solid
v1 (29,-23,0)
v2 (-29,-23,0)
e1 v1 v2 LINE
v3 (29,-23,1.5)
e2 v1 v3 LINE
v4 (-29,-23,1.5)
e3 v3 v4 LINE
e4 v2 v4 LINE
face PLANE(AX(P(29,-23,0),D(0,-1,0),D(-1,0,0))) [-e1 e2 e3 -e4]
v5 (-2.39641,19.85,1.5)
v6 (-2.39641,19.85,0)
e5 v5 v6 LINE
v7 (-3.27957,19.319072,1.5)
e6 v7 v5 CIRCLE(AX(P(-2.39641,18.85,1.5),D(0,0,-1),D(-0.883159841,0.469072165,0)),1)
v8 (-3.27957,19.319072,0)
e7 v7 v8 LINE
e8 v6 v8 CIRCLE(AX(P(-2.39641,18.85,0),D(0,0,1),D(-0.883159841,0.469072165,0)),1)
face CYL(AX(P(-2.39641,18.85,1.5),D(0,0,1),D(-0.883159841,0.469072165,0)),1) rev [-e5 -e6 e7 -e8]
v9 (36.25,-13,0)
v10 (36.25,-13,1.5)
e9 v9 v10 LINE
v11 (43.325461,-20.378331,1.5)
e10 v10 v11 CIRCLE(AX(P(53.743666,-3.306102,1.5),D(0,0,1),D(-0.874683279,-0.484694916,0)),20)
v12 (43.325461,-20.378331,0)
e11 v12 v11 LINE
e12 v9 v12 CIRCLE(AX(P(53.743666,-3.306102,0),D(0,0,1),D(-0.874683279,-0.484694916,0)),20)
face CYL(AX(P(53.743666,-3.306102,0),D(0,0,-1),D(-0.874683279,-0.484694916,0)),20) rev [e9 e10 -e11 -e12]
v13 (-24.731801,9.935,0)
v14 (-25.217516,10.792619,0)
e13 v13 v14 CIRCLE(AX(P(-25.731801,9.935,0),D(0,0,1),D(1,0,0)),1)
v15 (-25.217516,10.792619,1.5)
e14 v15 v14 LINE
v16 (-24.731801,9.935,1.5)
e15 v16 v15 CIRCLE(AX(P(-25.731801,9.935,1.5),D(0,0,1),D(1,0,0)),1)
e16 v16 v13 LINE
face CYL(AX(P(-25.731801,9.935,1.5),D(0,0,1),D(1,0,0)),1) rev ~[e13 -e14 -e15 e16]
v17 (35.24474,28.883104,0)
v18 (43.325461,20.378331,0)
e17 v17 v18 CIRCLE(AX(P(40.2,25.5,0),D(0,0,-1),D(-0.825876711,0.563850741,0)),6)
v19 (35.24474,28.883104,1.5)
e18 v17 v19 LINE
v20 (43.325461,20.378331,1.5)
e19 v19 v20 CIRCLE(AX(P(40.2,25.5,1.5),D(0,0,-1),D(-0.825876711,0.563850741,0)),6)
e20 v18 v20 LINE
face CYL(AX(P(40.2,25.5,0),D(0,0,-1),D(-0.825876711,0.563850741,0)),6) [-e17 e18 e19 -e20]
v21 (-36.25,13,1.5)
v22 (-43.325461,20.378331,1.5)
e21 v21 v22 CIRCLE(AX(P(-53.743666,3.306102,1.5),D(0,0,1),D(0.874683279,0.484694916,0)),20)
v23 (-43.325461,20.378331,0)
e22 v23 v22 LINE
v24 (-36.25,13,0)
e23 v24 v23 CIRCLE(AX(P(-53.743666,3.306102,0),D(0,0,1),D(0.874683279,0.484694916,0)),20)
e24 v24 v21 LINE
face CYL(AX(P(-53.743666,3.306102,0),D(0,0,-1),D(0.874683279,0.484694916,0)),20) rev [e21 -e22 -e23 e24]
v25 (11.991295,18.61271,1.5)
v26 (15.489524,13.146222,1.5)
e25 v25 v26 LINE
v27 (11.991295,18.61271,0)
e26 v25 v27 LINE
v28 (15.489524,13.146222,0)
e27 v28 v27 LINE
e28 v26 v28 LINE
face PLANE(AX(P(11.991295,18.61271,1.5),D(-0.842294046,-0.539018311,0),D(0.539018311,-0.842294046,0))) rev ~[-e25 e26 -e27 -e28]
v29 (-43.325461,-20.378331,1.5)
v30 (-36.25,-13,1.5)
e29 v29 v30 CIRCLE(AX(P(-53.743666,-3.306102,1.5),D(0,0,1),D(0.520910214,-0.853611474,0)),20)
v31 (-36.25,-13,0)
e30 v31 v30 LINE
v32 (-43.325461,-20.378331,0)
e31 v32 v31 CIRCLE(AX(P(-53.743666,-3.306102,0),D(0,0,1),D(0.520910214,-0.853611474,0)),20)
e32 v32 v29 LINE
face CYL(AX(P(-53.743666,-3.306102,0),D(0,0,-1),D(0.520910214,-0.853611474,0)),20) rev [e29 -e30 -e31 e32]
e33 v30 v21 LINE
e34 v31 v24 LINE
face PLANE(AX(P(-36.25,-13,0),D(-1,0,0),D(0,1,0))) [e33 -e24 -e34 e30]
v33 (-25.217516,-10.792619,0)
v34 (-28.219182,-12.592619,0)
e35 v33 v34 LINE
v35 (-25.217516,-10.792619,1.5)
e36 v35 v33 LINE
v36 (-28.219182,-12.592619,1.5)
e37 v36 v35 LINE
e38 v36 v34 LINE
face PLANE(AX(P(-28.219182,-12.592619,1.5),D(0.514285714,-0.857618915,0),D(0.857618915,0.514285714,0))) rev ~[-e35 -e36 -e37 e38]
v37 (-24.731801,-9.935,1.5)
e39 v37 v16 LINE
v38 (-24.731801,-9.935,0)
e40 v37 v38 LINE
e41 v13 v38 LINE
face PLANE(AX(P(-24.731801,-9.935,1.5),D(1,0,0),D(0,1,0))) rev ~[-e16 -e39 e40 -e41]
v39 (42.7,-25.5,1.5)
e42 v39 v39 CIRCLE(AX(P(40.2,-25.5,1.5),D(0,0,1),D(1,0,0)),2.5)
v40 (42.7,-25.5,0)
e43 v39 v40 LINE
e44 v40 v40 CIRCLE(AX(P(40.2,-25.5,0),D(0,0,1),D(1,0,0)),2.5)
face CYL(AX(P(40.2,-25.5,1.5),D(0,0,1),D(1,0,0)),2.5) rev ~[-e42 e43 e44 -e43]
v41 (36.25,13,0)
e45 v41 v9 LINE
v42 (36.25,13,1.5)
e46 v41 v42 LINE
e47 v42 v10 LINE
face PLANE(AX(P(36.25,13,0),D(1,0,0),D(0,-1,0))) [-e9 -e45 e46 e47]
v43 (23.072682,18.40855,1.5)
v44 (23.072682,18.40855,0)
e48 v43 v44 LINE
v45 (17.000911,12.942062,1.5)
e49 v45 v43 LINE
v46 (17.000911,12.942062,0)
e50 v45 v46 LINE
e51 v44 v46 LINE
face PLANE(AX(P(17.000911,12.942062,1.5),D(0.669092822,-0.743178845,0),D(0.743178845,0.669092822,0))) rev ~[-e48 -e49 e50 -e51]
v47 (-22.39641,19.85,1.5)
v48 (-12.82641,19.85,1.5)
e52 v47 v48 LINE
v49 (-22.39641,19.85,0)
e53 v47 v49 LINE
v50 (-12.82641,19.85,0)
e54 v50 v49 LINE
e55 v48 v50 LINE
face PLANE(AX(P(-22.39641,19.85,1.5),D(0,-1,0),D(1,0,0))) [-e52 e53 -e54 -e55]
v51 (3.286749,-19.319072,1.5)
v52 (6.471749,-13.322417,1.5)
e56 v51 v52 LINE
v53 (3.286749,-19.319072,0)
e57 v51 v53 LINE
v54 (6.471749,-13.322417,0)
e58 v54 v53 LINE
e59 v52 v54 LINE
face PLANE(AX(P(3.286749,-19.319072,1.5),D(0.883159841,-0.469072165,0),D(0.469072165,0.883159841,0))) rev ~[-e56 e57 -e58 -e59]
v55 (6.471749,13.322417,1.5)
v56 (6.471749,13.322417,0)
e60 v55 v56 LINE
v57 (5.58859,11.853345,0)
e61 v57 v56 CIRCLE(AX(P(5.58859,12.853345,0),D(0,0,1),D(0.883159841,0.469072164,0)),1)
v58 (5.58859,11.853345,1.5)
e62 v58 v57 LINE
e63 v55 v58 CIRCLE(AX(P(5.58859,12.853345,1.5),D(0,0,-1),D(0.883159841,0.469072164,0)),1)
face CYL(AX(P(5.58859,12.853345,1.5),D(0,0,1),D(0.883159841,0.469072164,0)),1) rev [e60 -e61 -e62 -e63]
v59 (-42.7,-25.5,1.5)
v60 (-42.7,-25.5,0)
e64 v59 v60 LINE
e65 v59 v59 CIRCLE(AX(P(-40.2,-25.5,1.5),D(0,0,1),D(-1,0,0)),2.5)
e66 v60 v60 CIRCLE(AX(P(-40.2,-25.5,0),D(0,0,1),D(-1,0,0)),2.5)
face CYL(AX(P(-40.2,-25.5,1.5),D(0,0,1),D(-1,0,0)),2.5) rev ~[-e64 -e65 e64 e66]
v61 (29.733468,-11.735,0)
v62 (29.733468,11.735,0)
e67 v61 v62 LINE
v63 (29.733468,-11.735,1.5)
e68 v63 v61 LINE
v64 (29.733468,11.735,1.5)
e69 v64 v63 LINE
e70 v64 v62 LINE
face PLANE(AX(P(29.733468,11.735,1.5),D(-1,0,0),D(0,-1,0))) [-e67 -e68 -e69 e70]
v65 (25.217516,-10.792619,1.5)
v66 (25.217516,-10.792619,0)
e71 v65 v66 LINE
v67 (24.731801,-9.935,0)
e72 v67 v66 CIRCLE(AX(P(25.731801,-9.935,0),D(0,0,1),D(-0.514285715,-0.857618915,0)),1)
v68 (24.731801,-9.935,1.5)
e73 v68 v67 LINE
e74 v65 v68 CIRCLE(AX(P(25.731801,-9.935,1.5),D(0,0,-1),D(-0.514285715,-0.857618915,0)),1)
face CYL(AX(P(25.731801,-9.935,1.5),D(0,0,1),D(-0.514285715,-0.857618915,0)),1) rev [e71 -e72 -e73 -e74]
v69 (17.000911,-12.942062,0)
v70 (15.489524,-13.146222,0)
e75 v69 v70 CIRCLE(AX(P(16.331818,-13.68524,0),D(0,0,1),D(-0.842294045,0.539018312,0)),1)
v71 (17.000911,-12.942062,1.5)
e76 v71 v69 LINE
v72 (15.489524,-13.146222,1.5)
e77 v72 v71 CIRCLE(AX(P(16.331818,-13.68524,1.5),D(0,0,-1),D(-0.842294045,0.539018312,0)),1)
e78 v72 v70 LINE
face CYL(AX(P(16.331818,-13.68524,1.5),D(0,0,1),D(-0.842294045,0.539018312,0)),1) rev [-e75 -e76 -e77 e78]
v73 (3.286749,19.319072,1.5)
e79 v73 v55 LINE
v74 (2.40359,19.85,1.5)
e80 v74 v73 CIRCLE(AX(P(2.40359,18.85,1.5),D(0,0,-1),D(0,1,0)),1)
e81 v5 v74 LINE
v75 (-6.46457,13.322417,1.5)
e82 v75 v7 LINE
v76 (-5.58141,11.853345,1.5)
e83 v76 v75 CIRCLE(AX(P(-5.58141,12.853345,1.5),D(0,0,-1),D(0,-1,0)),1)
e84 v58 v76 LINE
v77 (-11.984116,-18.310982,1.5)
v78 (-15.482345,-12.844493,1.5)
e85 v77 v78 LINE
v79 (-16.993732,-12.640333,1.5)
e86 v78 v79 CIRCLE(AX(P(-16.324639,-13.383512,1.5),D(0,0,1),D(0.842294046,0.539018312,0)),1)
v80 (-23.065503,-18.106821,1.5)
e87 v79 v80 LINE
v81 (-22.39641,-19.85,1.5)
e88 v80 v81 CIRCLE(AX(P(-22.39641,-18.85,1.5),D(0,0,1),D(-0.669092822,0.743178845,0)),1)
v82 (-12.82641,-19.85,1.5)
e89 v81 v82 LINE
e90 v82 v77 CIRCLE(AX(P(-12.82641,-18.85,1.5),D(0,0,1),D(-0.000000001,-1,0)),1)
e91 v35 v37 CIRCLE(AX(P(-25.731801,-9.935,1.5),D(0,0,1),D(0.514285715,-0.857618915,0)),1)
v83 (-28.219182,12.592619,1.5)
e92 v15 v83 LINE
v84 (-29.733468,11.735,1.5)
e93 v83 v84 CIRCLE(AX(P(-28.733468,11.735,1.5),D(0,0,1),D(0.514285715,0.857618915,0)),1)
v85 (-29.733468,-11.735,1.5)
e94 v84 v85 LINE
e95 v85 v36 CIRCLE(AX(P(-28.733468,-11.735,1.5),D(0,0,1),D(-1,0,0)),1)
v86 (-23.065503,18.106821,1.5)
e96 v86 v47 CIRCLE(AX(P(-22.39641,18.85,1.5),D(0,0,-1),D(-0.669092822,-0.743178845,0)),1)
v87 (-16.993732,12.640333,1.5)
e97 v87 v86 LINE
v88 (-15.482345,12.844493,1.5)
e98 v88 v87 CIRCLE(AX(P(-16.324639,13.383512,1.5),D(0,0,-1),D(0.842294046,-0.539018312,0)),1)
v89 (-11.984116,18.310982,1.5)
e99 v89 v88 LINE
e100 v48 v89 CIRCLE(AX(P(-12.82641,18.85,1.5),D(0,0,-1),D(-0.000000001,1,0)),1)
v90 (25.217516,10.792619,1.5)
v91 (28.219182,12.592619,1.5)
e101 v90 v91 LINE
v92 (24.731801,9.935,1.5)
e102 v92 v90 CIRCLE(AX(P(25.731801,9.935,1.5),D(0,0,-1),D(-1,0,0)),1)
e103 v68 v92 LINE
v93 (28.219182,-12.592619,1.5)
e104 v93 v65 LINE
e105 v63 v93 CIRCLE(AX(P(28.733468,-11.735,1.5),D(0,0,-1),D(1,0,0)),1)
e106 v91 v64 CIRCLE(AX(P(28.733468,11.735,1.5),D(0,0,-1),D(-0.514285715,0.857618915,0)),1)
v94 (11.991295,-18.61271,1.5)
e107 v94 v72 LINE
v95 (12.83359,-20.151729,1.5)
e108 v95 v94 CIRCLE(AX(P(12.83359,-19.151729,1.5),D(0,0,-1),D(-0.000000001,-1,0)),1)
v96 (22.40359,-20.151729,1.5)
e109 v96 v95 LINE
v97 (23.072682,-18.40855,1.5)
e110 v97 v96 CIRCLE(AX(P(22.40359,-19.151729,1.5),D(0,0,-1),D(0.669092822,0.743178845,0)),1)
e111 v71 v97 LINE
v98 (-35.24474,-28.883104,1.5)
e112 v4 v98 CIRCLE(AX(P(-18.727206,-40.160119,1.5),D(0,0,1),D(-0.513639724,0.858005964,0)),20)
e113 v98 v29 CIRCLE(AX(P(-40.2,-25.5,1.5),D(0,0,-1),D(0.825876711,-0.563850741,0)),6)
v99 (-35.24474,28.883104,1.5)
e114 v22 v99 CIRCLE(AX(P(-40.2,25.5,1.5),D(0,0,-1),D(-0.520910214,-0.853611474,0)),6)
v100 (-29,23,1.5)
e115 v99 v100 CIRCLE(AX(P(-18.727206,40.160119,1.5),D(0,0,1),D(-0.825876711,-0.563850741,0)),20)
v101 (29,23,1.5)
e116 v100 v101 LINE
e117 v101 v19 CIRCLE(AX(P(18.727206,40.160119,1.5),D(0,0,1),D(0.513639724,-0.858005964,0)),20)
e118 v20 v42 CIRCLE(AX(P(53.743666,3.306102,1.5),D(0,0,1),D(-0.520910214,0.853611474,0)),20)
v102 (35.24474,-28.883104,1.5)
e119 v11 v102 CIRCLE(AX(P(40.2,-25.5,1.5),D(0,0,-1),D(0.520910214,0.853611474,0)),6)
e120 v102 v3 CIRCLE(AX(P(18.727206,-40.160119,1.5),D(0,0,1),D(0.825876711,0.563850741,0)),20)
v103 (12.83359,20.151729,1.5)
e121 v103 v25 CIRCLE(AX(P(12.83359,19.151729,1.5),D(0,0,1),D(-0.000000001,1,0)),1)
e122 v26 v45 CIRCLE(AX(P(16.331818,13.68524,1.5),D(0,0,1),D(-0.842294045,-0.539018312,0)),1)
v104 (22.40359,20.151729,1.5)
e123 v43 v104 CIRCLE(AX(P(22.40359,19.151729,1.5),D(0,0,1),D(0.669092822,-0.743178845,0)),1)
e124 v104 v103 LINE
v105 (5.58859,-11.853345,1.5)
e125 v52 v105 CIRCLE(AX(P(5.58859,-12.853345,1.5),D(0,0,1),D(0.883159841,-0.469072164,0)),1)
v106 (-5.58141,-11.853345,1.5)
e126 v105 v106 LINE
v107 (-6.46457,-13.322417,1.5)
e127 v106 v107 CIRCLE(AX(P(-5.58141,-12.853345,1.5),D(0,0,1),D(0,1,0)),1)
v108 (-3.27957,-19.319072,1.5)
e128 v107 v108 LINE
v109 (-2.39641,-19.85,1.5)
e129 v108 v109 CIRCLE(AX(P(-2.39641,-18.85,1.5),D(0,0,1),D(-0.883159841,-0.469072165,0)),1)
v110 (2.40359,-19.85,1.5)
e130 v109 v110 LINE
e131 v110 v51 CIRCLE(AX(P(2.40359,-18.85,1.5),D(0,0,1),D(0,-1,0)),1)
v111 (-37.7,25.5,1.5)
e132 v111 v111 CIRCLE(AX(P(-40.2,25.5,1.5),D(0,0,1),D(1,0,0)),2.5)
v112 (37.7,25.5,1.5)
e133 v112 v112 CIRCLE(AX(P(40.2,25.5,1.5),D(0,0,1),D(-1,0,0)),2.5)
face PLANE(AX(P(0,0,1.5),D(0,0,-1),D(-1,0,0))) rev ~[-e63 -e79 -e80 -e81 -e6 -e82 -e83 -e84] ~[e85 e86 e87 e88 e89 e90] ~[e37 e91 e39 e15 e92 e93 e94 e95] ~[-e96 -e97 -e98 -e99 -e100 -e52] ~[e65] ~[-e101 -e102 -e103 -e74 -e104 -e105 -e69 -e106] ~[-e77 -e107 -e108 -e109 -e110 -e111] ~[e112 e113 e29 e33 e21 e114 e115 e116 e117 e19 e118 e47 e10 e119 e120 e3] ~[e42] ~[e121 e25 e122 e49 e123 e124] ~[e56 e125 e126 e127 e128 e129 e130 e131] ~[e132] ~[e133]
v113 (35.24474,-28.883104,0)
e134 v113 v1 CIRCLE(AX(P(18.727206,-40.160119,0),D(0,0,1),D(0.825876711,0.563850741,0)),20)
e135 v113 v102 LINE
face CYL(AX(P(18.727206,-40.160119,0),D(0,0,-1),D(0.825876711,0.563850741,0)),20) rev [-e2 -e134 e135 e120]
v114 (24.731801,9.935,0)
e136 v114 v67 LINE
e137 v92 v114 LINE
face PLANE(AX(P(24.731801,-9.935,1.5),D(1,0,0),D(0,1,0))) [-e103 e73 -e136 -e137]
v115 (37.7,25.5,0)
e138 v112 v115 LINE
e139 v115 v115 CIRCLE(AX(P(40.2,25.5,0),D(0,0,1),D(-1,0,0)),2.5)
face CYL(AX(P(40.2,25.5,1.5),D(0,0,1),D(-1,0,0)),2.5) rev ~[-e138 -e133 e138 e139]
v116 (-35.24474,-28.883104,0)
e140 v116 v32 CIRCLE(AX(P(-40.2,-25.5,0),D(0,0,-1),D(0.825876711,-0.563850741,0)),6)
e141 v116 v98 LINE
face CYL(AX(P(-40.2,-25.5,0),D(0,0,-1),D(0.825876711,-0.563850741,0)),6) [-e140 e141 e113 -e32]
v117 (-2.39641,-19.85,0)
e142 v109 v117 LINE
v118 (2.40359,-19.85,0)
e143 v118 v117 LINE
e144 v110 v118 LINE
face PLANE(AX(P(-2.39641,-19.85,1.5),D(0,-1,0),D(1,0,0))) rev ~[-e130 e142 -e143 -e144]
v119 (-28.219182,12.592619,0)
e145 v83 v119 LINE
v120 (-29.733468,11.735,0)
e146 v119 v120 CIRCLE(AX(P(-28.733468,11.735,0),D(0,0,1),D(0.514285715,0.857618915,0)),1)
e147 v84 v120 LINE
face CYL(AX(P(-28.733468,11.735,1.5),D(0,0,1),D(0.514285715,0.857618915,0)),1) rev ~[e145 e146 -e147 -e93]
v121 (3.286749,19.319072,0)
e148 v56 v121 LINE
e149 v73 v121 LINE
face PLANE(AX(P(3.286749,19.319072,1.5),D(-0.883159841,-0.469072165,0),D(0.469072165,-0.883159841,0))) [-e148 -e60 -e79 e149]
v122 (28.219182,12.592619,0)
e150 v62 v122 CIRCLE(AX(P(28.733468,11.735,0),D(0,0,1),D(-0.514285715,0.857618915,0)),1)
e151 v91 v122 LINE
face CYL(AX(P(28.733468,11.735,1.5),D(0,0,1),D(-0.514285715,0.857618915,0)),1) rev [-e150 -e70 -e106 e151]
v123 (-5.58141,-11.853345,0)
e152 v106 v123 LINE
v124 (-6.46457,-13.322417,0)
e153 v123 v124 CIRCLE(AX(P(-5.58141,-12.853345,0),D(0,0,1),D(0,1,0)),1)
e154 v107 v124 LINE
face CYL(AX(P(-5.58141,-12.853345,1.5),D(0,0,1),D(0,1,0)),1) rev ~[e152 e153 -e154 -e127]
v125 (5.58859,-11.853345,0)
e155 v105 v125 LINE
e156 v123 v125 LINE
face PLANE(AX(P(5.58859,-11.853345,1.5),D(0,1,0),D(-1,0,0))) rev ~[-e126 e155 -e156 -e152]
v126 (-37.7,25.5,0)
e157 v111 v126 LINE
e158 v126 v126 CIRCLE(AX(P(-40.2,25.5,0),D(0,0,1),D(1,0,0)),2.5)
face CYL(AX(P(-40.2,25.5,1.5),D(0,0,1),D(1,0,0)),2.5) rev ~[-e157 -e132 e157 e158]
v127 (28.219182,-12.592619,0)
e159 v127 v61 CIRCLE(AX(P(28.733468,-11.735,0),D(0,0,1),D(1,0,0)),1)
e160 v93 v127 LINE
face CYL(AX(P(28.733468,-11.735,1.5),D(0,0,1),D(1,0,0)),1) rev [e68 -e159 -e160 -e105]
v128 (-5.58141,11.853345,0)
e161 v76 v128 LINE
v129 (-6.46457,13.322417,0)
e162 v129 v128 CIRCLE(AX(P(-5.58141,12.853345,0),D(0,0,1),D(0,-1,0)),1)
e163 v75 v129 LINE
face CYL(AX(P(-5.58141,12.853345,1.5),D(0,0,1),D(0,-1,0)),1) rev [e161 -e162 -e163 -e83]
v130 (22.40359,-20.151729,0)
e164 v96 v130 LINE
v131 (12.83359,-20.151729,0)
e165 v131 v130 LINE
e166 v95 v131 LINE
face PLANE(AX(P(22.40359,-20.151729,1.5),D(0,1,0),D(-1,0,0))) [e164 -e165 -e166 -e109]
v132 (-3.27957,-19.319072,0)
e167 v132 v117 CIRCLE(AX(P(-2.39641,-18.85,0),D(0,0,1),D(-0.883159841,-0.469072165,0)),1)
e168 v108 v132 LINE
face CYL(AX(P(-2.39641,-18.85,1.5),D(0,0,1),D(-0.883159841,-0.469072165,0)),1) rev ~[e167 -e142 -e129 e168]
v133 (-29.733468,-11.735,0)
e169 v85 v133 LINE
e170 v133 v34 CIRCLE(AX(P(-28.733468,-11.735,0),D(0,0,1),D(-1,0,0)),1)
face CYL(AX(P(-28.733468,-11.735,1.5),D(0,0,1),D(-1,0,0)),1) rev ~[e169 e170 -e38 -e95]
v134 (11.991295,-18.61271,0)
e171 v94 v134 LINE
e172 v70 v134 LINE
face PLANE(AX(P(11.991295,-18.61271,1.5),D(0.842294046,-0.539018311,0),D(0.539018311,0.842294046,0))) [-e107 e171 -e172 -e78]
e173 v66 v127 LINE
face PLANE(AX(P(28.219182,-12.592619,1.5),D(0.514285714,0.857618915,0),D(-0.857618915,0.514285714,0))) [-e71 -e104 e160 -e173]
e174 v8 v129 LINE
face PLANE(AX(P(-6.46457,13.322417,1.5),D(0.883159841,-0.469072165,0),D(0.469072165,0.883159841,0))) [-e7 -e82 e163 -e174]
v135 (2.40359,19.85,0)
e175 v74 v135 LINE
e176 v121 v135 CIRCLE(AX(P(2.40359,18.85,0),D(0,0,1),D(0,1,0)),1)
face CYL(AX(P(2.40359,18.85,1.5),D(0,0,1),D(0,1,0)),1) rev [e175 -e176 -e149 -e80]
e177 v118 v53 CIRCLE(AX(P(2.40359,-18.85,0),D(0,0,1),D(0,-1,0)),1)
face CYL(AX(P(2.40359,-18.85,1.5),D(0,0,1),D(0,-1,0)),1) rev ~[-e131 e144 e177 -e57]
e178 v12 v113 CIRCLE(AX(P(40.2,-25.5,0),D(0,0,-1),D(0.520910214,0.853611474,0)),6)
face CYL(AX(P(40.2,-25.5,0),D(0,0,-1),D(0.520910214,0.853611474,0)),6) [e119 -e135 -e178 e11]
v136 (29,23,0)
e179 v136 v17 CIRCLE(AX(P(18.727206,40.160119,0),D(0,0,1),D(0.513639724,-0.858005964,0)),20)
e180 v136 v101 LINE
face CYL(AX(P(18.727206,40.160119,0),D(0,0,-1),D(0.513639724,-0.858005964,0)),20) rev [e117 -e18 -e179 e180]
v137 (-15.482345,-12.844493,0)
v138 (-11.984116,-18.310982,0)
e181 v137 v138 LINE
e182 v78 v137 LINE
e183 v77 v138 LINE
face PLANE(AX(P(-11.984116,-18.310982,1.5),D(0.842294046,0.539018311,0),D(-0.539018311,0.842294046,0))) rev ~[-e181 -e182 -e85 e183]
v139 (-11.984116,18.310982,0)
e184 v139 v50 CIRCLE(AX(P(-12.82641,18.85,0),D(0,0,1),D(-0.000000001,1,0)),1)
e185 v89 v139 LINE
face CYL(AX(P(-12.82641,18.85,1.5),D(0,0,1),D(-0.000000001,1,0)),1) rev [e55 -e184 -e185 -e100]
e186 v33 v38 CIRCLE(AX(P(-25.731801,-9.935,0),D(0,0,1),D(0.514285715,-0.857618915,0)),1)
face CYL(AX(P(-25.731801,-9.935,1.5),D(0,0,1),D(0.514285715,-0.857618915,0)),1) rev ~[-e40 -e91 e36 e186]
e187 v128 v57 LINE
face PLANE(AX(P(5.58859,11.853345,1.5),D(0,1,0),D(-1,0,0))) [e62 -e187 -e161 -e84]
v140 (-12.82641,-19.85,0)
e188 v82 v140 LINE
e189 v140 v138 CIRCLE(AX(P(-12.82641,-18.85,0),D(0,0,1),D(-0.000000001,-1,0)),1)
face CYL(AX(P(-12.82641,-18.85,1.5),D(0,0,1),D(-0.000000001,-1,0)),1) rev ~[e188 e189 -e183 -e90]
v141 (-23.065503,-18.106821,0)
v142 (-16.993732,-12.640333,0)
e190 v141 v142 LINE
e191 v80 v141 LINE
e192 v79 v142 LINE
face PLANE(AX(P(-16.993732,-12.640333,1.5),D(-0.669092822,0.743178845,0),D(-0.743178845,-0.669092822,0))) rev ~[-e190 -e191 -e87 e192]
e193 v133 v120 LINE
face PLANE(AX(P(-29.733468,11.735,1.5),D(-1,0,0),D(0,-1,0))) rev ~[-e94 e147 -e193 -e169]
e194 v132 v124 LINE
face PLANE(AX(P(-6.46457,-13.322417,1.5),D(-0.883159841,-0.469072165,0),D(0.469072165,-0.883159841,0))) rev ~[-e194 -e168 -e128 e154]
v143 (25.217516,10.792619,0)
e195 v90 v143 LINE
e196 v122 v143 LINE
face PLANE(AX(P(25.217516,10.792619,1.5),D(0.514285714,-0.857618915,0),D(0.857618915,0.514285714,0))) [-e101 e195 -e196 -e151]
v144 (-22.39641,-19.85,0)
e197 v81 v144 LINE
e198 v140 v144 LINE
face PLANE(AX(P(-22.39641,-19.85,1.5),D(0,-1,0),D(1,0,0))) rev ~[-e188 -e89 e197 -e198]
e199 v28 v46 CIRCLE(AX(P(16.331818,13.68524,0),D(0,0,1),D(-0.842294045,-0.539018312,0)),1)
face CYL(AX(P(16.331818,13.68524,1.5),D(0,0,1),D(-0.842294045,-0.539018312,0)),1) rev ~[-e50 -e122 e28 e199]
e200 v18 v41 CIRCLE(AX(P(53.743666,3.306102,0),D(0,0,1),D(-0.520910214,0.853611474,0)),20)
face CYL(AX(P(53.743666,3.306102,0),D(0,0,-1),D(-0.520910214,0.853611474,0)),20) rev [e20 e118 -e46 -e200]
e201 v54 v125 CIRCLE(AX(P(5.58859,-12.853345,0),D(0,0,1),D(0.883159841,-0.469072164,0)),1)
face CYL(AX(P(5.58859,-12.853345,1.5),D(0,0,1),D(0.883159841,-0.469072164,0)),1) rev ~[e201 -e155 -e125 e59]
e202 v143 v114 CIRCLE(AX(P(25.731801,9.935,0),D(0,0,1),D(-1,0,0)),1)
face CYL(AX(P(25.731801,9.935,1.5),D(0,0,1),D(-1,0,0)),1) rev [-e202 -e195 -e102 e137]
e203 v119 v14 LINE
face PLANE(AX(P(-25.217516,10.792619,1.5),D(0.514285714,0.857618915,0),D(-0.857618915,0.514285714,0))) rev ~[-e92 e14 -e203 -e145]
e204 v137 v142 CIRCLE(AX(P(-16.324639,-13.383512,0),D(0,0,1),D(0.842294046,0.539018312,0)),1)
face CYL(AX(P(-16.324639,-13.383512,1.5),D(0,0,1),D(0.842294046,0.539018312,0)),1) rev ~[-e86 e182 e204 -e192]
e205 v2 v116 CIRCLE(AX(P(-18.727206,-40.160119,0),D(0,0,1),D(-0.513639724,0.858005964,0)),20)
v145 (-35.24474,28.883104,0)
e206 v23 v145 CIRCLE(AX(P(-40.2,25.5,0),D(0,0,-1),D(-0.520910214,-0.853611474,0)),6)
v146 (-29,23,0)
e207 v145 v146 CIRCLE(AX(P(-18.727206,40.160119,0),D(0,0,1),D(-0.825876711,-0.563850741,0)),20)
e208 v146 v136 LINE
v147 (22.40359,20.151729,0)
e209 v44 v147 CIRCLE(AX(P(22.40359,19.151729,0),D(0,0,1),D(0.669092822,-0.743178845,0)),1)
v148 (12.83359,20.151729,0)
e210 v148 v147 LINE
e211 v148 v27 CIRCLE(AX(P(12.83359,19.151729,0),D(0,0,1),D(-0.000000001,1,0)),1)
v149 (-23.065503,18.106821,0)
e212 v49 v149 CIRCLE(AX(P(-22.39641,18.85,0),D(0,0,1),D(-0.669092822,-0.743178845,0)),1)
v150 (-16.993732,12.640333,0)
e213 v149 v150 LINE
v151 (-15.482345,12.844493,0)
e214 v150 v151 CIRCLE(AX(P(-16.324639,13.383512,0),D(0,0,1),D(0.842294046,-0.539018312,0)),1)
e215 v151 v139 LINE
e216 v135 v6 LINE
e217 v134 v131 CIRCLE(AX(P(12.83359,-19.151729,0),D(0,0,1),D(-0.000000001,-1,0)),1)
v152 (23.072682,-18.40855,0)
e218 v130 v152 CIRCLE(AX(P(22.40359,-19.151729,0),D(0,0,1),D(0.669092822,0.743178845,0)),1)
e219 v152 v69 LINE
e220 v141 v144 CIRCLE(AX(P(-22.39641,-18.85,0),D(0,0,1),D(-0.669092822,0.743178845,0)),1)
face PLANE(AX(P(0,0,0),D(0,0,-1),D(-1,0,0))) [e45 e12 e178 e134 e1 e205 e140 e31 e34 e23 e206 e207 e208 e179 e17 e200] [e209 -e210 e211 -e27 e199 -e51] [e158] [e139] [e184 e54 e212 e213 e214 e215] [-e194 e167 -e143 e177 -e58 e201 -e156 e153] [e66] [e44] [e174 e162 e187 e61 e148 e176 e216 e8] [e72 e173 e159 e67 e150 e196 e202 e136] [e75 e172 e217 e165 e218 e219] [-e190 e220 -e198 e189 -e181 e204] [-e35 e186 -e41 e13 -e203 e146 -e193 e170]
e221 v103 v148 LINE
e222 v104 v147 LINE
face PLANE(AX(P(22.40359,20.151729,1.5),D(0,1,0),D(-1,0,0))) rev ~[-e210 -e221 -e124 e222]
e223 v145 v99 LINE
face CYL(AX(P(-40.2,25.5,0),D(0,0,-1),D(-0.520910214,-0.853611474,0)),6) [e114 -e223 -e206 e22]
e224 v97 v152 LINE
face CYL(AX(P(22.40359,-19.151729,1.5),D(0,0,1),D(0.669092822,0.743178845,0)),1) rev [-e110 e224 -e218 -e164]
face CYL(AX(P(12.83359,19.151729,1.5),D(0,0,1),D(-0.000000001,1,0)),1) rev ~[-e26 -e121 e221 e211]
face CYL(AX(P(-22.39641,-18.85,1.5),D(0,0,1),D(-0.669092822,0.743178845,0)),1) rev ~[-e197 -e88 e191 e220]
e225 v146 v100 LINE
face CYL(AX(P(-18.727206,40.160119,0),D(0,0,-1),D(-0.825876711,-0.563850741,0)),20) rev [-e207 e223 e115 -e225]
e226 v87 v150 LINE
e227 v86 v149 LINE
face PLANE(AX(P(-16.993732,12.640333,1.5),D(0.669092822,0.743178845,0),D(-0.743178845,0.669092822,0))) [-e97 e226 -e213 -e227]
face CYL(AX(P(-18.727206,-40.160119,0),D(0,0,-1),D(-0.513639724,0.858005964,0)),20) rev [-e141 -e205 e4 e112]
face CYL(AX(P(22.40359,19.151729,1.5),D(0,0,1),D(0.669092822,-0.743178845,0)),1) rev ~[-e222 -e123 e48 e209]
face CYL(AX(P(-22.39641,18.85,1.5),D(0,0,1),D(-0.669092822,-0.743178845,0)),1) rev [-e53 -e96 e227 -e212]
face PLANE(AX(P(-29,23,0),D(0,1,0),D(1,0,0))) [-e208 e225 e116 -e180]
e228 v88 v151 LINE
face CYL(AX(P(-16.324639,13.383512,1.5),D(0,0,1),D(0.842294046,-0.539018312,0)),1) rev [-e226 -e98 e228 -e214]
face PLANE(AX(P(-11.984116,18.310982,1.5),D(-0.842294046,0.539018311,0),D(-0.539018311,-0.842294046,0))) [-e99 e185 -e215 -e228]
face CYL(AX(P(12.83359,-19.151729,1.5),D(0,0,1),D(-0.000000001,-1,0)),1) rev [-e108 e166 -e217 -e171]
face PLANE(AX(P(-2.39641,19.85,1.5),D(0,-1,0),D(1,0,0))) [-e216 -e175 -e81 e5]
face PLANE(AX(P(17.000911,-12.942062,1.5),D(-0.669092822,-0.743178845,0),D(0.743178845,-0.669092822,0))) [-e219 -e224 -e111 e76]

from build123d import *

# Parameters (mm, degrees)
BOSS_EXTRUDE1_DEPTH = 1.5
SKETCH2_R           = 2.5
CUT_EXTRUDE1_DEPTH  = 56.936928768


with BuildPart() as part:
    # Sketch1 → Boss-Extrude1 (new body)
    with BuildSketch(Plane.XY):
        with BuildLine():
            Line((-36.25, -13), (-36.25, 13))
            ThreePointArc((-36.25, 13), (-39.308359466, 17.14885926), (-43.325461287, 20.378331156))
            ThreePointArc((-43.325461287, 20.378331156), (-44.549693467, 29.632815837), (-35.244739735, 28.883104448))
            ThreePointArc((-35.244739735, 28.883104448), (-32.441546823, 25.602755414), (-29, 23))
            Line((-29, 23), (29, 23))
            ThreePointArc((29, 23), (32.441546823, 25.602755414), (35.244739735, 28.883104448))
            ThreePointArc((35.244739735, 28.883104448), (44.549693467, 29.632815837), (43.325461287, 20.378331156))
            ThreePointArc((43.325461287, 20.378331156), (39.308359466, 17.14885926), (36.25, 13))
            Line((36.25, 13), (36.25, -13))
            ThreePointArc((36.25, -13), (39.308359466, -17.14885926), (43.325461287, -20.378331156))
            ThreePointArc((43.325461287, -20.378331156), (44.549693467, -29.632815837), (35.244739735, -28.883104448))
            ThreePointArc((35.244739735, -28.883104448), (32.441546823, -25.602755414), (29, -23))
            Line((29, -23), (-29, -23))
            ThreePointArc((-29, -23), (-32.441546823, -25.602755414), (-35.244739735, -28.883104448))
            ThreePointArc((-35.244739735, -28.883104448), (-44.549693467, -29.632815837), (-43.325461287, -20.378331156))
            ThreePointArc((-43.325461287, -20.378331156), (-39.308359466, -17.14885926), (-36.25, -13))
        make_face()
    extrude(amount=BOSS_EXTRUDE1_DEPTH)

    # Sketch2 → Cut-Extrude1 (cut, through all)
    with BuildSketch(Plane.XY.offset(1.5)):
        with Locations((-40.2, 25.5)):
            Circle(SKETCH2_R)
        with Locations(Location((-40.2, -25.5, 0), (0, 0, 180))):
            Circle(SKETCH2_R)
        with Locations((40.2, -25.5)):
            Circle(SKETCH2_R)
        with Locations(Location((40.2, 25.5, 0), (0, 0, 180))):
            Circle(SKETCH2_R)
        with BuildLine():
            Line((-22.396410464, 19.85), (-12.826410464, 19.85))
            ThreePointArc((-12.826410464, 19.85), (-11.949193754, 19.33009462), (-11.984116418, 18.310981689))
            Line((-11.984116418, 18.310981689), (-15.482345258, 12.844493329))
            ThreePointArc((-15.482345258, 12.844493329), (-16.190773525, 12.392512169), (-16.993732126, 12.640332796))
            Line((-16.993732126, 12.640332796), (-23.065503286, 18.106821155))
            ThreePointArc((-23.065503286, 18.106821155), (-23.33, 19.208344217), (-22.396410464, 19.85))
        make_face()
        with BuildLine():
            Line((-29.733467607, 11.735), (-29.733467607, -11.735))
            ThreePointArc((-29.733467607, -11.735), (-29.226272987, -12.605139562), (-28.219181892, -12.592618915))
            Line((-28.219181892, -12.592618915), (-25.217515688, -10.792618915))
            ThreePointArc((-25.217515688, -10.792618915), (-24.861661841, -10.42780538), (-24.731801403, -9.935))
            Line((-24.731801403, -9.935), (-24.731801403, 9.935))
            ThreePointArc((-24.731801403, 9.935), (-24.861661841, 10.42780538), (-25.217515688, 10.792618915))
            Line((-25.217515688, 10.792618915), (-28.219181892, 12.592618915))
            ThreePointArc((-28.219181892, 12.592618915), (-29.226272987, 12.605139562), (-29.733467607, 11.735))
        make_face()
        with BuildLine():
            Line((-2.396410464, 19.85), (2.403589536, 19.85))
            ThreePointArc((2.403589536, 19.85), (2.918821443, 19.707050805), (3.286749377, 19.319072165))
            Line((3.286749377, 19.319072165), (6.471749377, 13.322416847))
            ThreePointArc((6.471749377, 13.322416847), (6.445640341, 12.338112776), (5.588589536, 11.853344682))
            Line((5.588589536, 11.853344682), (-5.581410464, 11.853344682))
            ThreePointArc((-5.581410464, 11.853344682), (-6.438461269, 12.338112776), (-6.464570304, 13.322416847))
            Line((-6.464570304, 13.322416847), (-3.279570304, 19.319072165))
            ThreePointArc((-3.279570304, 19.319072165), (-2.91164237, 19.707050805), (-2.396410464, 19.85))
        make_face()
        with BuildLine():
            Line((22.403589536, 20.151728768), (12.833589536, 20.151728768))
            ThreePointArc((12.833589536, 20.151728768), (11.956372827, 19.631823388), (11.99129549, 18.612710457))
            Line((11.99129549, 18.612710457), (15.48952433, 13.146222097))
            ThreePointArc((15.48952433, 13.146222097), (16.197952597, 12.694240937), (17.000911199, 12.942061564))
            Line((17.000911199, 12.942061564), (23.072682359, 18.408549924))
            ThreePointArc((23.072682359, 18.408549924), (23.337179073, 19.510072985), (22.403589536, 20.151728768))
        make_face()
        with BuildLine():
            Line((17.000911199, -12.942061564), (23.072682359, -18.408549924))
            ThreePointArc((23.072682359, -18.408549924), (23.337179073, -19.510072985), (22.403589536, -20.151728768))
            Line((22.403589536, -20.151728768), (12.833589536, -20.151728768))
            ThreePointArc((12.833589536, -20.151728768), (11.956372827, -19.631823388), (11.99129549, -18.612710457))
            Line((11.99129549, -18.612710457), (15.48952433, -13.146222097))
            ThreePointArc((15.48952433, -13.146222097), (16.197952597, -12.694240937), (17.000911199, -12.942061564))
        make_face()
        with BuildLine():
            Line((-6.464570304, -13.322416847), (-3.279570304, -19.319072165))
            ThreePointArc((-3.279570304, -19.319072165), (-2.91164237, -19.707050805), (-2.396410464, -19.85))
            Line((-2.396410464, -19.85), (2.403589536, -19.85))
            ThreePointArc((2.403589536, -19.85), (2.918821443, -19.707050805), (3.286749377, -19.319072165))
            Line((3.286749377, -19.319072165), (6.471749377, -13.322416847))
            ThreePointArc((6.471749377, -13.322416847), (6.445640341, -12.338112776), (5.588589536, -11.853344682))
            Line((5.588589536, -11.853344682), (-5.581410464, -11.853344682))
            ThreePointArc((-5.581410464, -11.853344682), (-6.438461269, -12.338112776), (-6.464570304, -13.322416847))
        make_face()
        with BuildLine():
            Line((-16.993732126, -12.640332796), (-23.065503286, -18.106821155))
            ThreePointArc((-23.065503286, -18.106821155), (-23.33, -19.208344217), (-22.396410464, -19.85))
            Line((-22.396410464, -19.85), (-12.826410464, -19.85))
            ThreePointArc((-12.826410464, -19.85), (-11.949193754, -19.33009462), (-11.984116418, -18.310981689))
            Line((-11.984116418, -18.310981689), (-15.482345258, -12.844493329))
            ThreePointArc((-15.482345258, -12.844493329), (-16.190773525, -12.392512169), (-16.993732126, -12.640332796))
        make_face()
        with BuildLine():
            Line((25.217515688, 10.792618915), (28.219181892, 12.592618915))
            ThreePointArc((28.219181892, 12.592618915), (29.226272987, 12.605139562), (29.733467607, 11.735))
            Line((29.733467607, 11.735), (29.733467607, -11.735))
            ThreePointArc((29.733467607, -11.735), (29.226272987, -12.605139562), (28.219181892, -12.592618915))
            Line((28.219181892, -12.592618915), (25.217515688, -10.792618915))
            ThreePointArc((25.217515688, -10.792618915), (24.861661841, -10.42780538), (24.731801403, -9.935))
            Line((24.731801403, -9.935), (24.731801403, 9.935))
            ThreePointArc((24.731801403, 9.935), (24.861661841, 10.42780538), (25.217515688, 10.792618915))
        make_face()
    extrude(amount=-CUT_EXTRUDE1_DEPTH, mode=Mode.SUBTRACT)


solid = part.part
